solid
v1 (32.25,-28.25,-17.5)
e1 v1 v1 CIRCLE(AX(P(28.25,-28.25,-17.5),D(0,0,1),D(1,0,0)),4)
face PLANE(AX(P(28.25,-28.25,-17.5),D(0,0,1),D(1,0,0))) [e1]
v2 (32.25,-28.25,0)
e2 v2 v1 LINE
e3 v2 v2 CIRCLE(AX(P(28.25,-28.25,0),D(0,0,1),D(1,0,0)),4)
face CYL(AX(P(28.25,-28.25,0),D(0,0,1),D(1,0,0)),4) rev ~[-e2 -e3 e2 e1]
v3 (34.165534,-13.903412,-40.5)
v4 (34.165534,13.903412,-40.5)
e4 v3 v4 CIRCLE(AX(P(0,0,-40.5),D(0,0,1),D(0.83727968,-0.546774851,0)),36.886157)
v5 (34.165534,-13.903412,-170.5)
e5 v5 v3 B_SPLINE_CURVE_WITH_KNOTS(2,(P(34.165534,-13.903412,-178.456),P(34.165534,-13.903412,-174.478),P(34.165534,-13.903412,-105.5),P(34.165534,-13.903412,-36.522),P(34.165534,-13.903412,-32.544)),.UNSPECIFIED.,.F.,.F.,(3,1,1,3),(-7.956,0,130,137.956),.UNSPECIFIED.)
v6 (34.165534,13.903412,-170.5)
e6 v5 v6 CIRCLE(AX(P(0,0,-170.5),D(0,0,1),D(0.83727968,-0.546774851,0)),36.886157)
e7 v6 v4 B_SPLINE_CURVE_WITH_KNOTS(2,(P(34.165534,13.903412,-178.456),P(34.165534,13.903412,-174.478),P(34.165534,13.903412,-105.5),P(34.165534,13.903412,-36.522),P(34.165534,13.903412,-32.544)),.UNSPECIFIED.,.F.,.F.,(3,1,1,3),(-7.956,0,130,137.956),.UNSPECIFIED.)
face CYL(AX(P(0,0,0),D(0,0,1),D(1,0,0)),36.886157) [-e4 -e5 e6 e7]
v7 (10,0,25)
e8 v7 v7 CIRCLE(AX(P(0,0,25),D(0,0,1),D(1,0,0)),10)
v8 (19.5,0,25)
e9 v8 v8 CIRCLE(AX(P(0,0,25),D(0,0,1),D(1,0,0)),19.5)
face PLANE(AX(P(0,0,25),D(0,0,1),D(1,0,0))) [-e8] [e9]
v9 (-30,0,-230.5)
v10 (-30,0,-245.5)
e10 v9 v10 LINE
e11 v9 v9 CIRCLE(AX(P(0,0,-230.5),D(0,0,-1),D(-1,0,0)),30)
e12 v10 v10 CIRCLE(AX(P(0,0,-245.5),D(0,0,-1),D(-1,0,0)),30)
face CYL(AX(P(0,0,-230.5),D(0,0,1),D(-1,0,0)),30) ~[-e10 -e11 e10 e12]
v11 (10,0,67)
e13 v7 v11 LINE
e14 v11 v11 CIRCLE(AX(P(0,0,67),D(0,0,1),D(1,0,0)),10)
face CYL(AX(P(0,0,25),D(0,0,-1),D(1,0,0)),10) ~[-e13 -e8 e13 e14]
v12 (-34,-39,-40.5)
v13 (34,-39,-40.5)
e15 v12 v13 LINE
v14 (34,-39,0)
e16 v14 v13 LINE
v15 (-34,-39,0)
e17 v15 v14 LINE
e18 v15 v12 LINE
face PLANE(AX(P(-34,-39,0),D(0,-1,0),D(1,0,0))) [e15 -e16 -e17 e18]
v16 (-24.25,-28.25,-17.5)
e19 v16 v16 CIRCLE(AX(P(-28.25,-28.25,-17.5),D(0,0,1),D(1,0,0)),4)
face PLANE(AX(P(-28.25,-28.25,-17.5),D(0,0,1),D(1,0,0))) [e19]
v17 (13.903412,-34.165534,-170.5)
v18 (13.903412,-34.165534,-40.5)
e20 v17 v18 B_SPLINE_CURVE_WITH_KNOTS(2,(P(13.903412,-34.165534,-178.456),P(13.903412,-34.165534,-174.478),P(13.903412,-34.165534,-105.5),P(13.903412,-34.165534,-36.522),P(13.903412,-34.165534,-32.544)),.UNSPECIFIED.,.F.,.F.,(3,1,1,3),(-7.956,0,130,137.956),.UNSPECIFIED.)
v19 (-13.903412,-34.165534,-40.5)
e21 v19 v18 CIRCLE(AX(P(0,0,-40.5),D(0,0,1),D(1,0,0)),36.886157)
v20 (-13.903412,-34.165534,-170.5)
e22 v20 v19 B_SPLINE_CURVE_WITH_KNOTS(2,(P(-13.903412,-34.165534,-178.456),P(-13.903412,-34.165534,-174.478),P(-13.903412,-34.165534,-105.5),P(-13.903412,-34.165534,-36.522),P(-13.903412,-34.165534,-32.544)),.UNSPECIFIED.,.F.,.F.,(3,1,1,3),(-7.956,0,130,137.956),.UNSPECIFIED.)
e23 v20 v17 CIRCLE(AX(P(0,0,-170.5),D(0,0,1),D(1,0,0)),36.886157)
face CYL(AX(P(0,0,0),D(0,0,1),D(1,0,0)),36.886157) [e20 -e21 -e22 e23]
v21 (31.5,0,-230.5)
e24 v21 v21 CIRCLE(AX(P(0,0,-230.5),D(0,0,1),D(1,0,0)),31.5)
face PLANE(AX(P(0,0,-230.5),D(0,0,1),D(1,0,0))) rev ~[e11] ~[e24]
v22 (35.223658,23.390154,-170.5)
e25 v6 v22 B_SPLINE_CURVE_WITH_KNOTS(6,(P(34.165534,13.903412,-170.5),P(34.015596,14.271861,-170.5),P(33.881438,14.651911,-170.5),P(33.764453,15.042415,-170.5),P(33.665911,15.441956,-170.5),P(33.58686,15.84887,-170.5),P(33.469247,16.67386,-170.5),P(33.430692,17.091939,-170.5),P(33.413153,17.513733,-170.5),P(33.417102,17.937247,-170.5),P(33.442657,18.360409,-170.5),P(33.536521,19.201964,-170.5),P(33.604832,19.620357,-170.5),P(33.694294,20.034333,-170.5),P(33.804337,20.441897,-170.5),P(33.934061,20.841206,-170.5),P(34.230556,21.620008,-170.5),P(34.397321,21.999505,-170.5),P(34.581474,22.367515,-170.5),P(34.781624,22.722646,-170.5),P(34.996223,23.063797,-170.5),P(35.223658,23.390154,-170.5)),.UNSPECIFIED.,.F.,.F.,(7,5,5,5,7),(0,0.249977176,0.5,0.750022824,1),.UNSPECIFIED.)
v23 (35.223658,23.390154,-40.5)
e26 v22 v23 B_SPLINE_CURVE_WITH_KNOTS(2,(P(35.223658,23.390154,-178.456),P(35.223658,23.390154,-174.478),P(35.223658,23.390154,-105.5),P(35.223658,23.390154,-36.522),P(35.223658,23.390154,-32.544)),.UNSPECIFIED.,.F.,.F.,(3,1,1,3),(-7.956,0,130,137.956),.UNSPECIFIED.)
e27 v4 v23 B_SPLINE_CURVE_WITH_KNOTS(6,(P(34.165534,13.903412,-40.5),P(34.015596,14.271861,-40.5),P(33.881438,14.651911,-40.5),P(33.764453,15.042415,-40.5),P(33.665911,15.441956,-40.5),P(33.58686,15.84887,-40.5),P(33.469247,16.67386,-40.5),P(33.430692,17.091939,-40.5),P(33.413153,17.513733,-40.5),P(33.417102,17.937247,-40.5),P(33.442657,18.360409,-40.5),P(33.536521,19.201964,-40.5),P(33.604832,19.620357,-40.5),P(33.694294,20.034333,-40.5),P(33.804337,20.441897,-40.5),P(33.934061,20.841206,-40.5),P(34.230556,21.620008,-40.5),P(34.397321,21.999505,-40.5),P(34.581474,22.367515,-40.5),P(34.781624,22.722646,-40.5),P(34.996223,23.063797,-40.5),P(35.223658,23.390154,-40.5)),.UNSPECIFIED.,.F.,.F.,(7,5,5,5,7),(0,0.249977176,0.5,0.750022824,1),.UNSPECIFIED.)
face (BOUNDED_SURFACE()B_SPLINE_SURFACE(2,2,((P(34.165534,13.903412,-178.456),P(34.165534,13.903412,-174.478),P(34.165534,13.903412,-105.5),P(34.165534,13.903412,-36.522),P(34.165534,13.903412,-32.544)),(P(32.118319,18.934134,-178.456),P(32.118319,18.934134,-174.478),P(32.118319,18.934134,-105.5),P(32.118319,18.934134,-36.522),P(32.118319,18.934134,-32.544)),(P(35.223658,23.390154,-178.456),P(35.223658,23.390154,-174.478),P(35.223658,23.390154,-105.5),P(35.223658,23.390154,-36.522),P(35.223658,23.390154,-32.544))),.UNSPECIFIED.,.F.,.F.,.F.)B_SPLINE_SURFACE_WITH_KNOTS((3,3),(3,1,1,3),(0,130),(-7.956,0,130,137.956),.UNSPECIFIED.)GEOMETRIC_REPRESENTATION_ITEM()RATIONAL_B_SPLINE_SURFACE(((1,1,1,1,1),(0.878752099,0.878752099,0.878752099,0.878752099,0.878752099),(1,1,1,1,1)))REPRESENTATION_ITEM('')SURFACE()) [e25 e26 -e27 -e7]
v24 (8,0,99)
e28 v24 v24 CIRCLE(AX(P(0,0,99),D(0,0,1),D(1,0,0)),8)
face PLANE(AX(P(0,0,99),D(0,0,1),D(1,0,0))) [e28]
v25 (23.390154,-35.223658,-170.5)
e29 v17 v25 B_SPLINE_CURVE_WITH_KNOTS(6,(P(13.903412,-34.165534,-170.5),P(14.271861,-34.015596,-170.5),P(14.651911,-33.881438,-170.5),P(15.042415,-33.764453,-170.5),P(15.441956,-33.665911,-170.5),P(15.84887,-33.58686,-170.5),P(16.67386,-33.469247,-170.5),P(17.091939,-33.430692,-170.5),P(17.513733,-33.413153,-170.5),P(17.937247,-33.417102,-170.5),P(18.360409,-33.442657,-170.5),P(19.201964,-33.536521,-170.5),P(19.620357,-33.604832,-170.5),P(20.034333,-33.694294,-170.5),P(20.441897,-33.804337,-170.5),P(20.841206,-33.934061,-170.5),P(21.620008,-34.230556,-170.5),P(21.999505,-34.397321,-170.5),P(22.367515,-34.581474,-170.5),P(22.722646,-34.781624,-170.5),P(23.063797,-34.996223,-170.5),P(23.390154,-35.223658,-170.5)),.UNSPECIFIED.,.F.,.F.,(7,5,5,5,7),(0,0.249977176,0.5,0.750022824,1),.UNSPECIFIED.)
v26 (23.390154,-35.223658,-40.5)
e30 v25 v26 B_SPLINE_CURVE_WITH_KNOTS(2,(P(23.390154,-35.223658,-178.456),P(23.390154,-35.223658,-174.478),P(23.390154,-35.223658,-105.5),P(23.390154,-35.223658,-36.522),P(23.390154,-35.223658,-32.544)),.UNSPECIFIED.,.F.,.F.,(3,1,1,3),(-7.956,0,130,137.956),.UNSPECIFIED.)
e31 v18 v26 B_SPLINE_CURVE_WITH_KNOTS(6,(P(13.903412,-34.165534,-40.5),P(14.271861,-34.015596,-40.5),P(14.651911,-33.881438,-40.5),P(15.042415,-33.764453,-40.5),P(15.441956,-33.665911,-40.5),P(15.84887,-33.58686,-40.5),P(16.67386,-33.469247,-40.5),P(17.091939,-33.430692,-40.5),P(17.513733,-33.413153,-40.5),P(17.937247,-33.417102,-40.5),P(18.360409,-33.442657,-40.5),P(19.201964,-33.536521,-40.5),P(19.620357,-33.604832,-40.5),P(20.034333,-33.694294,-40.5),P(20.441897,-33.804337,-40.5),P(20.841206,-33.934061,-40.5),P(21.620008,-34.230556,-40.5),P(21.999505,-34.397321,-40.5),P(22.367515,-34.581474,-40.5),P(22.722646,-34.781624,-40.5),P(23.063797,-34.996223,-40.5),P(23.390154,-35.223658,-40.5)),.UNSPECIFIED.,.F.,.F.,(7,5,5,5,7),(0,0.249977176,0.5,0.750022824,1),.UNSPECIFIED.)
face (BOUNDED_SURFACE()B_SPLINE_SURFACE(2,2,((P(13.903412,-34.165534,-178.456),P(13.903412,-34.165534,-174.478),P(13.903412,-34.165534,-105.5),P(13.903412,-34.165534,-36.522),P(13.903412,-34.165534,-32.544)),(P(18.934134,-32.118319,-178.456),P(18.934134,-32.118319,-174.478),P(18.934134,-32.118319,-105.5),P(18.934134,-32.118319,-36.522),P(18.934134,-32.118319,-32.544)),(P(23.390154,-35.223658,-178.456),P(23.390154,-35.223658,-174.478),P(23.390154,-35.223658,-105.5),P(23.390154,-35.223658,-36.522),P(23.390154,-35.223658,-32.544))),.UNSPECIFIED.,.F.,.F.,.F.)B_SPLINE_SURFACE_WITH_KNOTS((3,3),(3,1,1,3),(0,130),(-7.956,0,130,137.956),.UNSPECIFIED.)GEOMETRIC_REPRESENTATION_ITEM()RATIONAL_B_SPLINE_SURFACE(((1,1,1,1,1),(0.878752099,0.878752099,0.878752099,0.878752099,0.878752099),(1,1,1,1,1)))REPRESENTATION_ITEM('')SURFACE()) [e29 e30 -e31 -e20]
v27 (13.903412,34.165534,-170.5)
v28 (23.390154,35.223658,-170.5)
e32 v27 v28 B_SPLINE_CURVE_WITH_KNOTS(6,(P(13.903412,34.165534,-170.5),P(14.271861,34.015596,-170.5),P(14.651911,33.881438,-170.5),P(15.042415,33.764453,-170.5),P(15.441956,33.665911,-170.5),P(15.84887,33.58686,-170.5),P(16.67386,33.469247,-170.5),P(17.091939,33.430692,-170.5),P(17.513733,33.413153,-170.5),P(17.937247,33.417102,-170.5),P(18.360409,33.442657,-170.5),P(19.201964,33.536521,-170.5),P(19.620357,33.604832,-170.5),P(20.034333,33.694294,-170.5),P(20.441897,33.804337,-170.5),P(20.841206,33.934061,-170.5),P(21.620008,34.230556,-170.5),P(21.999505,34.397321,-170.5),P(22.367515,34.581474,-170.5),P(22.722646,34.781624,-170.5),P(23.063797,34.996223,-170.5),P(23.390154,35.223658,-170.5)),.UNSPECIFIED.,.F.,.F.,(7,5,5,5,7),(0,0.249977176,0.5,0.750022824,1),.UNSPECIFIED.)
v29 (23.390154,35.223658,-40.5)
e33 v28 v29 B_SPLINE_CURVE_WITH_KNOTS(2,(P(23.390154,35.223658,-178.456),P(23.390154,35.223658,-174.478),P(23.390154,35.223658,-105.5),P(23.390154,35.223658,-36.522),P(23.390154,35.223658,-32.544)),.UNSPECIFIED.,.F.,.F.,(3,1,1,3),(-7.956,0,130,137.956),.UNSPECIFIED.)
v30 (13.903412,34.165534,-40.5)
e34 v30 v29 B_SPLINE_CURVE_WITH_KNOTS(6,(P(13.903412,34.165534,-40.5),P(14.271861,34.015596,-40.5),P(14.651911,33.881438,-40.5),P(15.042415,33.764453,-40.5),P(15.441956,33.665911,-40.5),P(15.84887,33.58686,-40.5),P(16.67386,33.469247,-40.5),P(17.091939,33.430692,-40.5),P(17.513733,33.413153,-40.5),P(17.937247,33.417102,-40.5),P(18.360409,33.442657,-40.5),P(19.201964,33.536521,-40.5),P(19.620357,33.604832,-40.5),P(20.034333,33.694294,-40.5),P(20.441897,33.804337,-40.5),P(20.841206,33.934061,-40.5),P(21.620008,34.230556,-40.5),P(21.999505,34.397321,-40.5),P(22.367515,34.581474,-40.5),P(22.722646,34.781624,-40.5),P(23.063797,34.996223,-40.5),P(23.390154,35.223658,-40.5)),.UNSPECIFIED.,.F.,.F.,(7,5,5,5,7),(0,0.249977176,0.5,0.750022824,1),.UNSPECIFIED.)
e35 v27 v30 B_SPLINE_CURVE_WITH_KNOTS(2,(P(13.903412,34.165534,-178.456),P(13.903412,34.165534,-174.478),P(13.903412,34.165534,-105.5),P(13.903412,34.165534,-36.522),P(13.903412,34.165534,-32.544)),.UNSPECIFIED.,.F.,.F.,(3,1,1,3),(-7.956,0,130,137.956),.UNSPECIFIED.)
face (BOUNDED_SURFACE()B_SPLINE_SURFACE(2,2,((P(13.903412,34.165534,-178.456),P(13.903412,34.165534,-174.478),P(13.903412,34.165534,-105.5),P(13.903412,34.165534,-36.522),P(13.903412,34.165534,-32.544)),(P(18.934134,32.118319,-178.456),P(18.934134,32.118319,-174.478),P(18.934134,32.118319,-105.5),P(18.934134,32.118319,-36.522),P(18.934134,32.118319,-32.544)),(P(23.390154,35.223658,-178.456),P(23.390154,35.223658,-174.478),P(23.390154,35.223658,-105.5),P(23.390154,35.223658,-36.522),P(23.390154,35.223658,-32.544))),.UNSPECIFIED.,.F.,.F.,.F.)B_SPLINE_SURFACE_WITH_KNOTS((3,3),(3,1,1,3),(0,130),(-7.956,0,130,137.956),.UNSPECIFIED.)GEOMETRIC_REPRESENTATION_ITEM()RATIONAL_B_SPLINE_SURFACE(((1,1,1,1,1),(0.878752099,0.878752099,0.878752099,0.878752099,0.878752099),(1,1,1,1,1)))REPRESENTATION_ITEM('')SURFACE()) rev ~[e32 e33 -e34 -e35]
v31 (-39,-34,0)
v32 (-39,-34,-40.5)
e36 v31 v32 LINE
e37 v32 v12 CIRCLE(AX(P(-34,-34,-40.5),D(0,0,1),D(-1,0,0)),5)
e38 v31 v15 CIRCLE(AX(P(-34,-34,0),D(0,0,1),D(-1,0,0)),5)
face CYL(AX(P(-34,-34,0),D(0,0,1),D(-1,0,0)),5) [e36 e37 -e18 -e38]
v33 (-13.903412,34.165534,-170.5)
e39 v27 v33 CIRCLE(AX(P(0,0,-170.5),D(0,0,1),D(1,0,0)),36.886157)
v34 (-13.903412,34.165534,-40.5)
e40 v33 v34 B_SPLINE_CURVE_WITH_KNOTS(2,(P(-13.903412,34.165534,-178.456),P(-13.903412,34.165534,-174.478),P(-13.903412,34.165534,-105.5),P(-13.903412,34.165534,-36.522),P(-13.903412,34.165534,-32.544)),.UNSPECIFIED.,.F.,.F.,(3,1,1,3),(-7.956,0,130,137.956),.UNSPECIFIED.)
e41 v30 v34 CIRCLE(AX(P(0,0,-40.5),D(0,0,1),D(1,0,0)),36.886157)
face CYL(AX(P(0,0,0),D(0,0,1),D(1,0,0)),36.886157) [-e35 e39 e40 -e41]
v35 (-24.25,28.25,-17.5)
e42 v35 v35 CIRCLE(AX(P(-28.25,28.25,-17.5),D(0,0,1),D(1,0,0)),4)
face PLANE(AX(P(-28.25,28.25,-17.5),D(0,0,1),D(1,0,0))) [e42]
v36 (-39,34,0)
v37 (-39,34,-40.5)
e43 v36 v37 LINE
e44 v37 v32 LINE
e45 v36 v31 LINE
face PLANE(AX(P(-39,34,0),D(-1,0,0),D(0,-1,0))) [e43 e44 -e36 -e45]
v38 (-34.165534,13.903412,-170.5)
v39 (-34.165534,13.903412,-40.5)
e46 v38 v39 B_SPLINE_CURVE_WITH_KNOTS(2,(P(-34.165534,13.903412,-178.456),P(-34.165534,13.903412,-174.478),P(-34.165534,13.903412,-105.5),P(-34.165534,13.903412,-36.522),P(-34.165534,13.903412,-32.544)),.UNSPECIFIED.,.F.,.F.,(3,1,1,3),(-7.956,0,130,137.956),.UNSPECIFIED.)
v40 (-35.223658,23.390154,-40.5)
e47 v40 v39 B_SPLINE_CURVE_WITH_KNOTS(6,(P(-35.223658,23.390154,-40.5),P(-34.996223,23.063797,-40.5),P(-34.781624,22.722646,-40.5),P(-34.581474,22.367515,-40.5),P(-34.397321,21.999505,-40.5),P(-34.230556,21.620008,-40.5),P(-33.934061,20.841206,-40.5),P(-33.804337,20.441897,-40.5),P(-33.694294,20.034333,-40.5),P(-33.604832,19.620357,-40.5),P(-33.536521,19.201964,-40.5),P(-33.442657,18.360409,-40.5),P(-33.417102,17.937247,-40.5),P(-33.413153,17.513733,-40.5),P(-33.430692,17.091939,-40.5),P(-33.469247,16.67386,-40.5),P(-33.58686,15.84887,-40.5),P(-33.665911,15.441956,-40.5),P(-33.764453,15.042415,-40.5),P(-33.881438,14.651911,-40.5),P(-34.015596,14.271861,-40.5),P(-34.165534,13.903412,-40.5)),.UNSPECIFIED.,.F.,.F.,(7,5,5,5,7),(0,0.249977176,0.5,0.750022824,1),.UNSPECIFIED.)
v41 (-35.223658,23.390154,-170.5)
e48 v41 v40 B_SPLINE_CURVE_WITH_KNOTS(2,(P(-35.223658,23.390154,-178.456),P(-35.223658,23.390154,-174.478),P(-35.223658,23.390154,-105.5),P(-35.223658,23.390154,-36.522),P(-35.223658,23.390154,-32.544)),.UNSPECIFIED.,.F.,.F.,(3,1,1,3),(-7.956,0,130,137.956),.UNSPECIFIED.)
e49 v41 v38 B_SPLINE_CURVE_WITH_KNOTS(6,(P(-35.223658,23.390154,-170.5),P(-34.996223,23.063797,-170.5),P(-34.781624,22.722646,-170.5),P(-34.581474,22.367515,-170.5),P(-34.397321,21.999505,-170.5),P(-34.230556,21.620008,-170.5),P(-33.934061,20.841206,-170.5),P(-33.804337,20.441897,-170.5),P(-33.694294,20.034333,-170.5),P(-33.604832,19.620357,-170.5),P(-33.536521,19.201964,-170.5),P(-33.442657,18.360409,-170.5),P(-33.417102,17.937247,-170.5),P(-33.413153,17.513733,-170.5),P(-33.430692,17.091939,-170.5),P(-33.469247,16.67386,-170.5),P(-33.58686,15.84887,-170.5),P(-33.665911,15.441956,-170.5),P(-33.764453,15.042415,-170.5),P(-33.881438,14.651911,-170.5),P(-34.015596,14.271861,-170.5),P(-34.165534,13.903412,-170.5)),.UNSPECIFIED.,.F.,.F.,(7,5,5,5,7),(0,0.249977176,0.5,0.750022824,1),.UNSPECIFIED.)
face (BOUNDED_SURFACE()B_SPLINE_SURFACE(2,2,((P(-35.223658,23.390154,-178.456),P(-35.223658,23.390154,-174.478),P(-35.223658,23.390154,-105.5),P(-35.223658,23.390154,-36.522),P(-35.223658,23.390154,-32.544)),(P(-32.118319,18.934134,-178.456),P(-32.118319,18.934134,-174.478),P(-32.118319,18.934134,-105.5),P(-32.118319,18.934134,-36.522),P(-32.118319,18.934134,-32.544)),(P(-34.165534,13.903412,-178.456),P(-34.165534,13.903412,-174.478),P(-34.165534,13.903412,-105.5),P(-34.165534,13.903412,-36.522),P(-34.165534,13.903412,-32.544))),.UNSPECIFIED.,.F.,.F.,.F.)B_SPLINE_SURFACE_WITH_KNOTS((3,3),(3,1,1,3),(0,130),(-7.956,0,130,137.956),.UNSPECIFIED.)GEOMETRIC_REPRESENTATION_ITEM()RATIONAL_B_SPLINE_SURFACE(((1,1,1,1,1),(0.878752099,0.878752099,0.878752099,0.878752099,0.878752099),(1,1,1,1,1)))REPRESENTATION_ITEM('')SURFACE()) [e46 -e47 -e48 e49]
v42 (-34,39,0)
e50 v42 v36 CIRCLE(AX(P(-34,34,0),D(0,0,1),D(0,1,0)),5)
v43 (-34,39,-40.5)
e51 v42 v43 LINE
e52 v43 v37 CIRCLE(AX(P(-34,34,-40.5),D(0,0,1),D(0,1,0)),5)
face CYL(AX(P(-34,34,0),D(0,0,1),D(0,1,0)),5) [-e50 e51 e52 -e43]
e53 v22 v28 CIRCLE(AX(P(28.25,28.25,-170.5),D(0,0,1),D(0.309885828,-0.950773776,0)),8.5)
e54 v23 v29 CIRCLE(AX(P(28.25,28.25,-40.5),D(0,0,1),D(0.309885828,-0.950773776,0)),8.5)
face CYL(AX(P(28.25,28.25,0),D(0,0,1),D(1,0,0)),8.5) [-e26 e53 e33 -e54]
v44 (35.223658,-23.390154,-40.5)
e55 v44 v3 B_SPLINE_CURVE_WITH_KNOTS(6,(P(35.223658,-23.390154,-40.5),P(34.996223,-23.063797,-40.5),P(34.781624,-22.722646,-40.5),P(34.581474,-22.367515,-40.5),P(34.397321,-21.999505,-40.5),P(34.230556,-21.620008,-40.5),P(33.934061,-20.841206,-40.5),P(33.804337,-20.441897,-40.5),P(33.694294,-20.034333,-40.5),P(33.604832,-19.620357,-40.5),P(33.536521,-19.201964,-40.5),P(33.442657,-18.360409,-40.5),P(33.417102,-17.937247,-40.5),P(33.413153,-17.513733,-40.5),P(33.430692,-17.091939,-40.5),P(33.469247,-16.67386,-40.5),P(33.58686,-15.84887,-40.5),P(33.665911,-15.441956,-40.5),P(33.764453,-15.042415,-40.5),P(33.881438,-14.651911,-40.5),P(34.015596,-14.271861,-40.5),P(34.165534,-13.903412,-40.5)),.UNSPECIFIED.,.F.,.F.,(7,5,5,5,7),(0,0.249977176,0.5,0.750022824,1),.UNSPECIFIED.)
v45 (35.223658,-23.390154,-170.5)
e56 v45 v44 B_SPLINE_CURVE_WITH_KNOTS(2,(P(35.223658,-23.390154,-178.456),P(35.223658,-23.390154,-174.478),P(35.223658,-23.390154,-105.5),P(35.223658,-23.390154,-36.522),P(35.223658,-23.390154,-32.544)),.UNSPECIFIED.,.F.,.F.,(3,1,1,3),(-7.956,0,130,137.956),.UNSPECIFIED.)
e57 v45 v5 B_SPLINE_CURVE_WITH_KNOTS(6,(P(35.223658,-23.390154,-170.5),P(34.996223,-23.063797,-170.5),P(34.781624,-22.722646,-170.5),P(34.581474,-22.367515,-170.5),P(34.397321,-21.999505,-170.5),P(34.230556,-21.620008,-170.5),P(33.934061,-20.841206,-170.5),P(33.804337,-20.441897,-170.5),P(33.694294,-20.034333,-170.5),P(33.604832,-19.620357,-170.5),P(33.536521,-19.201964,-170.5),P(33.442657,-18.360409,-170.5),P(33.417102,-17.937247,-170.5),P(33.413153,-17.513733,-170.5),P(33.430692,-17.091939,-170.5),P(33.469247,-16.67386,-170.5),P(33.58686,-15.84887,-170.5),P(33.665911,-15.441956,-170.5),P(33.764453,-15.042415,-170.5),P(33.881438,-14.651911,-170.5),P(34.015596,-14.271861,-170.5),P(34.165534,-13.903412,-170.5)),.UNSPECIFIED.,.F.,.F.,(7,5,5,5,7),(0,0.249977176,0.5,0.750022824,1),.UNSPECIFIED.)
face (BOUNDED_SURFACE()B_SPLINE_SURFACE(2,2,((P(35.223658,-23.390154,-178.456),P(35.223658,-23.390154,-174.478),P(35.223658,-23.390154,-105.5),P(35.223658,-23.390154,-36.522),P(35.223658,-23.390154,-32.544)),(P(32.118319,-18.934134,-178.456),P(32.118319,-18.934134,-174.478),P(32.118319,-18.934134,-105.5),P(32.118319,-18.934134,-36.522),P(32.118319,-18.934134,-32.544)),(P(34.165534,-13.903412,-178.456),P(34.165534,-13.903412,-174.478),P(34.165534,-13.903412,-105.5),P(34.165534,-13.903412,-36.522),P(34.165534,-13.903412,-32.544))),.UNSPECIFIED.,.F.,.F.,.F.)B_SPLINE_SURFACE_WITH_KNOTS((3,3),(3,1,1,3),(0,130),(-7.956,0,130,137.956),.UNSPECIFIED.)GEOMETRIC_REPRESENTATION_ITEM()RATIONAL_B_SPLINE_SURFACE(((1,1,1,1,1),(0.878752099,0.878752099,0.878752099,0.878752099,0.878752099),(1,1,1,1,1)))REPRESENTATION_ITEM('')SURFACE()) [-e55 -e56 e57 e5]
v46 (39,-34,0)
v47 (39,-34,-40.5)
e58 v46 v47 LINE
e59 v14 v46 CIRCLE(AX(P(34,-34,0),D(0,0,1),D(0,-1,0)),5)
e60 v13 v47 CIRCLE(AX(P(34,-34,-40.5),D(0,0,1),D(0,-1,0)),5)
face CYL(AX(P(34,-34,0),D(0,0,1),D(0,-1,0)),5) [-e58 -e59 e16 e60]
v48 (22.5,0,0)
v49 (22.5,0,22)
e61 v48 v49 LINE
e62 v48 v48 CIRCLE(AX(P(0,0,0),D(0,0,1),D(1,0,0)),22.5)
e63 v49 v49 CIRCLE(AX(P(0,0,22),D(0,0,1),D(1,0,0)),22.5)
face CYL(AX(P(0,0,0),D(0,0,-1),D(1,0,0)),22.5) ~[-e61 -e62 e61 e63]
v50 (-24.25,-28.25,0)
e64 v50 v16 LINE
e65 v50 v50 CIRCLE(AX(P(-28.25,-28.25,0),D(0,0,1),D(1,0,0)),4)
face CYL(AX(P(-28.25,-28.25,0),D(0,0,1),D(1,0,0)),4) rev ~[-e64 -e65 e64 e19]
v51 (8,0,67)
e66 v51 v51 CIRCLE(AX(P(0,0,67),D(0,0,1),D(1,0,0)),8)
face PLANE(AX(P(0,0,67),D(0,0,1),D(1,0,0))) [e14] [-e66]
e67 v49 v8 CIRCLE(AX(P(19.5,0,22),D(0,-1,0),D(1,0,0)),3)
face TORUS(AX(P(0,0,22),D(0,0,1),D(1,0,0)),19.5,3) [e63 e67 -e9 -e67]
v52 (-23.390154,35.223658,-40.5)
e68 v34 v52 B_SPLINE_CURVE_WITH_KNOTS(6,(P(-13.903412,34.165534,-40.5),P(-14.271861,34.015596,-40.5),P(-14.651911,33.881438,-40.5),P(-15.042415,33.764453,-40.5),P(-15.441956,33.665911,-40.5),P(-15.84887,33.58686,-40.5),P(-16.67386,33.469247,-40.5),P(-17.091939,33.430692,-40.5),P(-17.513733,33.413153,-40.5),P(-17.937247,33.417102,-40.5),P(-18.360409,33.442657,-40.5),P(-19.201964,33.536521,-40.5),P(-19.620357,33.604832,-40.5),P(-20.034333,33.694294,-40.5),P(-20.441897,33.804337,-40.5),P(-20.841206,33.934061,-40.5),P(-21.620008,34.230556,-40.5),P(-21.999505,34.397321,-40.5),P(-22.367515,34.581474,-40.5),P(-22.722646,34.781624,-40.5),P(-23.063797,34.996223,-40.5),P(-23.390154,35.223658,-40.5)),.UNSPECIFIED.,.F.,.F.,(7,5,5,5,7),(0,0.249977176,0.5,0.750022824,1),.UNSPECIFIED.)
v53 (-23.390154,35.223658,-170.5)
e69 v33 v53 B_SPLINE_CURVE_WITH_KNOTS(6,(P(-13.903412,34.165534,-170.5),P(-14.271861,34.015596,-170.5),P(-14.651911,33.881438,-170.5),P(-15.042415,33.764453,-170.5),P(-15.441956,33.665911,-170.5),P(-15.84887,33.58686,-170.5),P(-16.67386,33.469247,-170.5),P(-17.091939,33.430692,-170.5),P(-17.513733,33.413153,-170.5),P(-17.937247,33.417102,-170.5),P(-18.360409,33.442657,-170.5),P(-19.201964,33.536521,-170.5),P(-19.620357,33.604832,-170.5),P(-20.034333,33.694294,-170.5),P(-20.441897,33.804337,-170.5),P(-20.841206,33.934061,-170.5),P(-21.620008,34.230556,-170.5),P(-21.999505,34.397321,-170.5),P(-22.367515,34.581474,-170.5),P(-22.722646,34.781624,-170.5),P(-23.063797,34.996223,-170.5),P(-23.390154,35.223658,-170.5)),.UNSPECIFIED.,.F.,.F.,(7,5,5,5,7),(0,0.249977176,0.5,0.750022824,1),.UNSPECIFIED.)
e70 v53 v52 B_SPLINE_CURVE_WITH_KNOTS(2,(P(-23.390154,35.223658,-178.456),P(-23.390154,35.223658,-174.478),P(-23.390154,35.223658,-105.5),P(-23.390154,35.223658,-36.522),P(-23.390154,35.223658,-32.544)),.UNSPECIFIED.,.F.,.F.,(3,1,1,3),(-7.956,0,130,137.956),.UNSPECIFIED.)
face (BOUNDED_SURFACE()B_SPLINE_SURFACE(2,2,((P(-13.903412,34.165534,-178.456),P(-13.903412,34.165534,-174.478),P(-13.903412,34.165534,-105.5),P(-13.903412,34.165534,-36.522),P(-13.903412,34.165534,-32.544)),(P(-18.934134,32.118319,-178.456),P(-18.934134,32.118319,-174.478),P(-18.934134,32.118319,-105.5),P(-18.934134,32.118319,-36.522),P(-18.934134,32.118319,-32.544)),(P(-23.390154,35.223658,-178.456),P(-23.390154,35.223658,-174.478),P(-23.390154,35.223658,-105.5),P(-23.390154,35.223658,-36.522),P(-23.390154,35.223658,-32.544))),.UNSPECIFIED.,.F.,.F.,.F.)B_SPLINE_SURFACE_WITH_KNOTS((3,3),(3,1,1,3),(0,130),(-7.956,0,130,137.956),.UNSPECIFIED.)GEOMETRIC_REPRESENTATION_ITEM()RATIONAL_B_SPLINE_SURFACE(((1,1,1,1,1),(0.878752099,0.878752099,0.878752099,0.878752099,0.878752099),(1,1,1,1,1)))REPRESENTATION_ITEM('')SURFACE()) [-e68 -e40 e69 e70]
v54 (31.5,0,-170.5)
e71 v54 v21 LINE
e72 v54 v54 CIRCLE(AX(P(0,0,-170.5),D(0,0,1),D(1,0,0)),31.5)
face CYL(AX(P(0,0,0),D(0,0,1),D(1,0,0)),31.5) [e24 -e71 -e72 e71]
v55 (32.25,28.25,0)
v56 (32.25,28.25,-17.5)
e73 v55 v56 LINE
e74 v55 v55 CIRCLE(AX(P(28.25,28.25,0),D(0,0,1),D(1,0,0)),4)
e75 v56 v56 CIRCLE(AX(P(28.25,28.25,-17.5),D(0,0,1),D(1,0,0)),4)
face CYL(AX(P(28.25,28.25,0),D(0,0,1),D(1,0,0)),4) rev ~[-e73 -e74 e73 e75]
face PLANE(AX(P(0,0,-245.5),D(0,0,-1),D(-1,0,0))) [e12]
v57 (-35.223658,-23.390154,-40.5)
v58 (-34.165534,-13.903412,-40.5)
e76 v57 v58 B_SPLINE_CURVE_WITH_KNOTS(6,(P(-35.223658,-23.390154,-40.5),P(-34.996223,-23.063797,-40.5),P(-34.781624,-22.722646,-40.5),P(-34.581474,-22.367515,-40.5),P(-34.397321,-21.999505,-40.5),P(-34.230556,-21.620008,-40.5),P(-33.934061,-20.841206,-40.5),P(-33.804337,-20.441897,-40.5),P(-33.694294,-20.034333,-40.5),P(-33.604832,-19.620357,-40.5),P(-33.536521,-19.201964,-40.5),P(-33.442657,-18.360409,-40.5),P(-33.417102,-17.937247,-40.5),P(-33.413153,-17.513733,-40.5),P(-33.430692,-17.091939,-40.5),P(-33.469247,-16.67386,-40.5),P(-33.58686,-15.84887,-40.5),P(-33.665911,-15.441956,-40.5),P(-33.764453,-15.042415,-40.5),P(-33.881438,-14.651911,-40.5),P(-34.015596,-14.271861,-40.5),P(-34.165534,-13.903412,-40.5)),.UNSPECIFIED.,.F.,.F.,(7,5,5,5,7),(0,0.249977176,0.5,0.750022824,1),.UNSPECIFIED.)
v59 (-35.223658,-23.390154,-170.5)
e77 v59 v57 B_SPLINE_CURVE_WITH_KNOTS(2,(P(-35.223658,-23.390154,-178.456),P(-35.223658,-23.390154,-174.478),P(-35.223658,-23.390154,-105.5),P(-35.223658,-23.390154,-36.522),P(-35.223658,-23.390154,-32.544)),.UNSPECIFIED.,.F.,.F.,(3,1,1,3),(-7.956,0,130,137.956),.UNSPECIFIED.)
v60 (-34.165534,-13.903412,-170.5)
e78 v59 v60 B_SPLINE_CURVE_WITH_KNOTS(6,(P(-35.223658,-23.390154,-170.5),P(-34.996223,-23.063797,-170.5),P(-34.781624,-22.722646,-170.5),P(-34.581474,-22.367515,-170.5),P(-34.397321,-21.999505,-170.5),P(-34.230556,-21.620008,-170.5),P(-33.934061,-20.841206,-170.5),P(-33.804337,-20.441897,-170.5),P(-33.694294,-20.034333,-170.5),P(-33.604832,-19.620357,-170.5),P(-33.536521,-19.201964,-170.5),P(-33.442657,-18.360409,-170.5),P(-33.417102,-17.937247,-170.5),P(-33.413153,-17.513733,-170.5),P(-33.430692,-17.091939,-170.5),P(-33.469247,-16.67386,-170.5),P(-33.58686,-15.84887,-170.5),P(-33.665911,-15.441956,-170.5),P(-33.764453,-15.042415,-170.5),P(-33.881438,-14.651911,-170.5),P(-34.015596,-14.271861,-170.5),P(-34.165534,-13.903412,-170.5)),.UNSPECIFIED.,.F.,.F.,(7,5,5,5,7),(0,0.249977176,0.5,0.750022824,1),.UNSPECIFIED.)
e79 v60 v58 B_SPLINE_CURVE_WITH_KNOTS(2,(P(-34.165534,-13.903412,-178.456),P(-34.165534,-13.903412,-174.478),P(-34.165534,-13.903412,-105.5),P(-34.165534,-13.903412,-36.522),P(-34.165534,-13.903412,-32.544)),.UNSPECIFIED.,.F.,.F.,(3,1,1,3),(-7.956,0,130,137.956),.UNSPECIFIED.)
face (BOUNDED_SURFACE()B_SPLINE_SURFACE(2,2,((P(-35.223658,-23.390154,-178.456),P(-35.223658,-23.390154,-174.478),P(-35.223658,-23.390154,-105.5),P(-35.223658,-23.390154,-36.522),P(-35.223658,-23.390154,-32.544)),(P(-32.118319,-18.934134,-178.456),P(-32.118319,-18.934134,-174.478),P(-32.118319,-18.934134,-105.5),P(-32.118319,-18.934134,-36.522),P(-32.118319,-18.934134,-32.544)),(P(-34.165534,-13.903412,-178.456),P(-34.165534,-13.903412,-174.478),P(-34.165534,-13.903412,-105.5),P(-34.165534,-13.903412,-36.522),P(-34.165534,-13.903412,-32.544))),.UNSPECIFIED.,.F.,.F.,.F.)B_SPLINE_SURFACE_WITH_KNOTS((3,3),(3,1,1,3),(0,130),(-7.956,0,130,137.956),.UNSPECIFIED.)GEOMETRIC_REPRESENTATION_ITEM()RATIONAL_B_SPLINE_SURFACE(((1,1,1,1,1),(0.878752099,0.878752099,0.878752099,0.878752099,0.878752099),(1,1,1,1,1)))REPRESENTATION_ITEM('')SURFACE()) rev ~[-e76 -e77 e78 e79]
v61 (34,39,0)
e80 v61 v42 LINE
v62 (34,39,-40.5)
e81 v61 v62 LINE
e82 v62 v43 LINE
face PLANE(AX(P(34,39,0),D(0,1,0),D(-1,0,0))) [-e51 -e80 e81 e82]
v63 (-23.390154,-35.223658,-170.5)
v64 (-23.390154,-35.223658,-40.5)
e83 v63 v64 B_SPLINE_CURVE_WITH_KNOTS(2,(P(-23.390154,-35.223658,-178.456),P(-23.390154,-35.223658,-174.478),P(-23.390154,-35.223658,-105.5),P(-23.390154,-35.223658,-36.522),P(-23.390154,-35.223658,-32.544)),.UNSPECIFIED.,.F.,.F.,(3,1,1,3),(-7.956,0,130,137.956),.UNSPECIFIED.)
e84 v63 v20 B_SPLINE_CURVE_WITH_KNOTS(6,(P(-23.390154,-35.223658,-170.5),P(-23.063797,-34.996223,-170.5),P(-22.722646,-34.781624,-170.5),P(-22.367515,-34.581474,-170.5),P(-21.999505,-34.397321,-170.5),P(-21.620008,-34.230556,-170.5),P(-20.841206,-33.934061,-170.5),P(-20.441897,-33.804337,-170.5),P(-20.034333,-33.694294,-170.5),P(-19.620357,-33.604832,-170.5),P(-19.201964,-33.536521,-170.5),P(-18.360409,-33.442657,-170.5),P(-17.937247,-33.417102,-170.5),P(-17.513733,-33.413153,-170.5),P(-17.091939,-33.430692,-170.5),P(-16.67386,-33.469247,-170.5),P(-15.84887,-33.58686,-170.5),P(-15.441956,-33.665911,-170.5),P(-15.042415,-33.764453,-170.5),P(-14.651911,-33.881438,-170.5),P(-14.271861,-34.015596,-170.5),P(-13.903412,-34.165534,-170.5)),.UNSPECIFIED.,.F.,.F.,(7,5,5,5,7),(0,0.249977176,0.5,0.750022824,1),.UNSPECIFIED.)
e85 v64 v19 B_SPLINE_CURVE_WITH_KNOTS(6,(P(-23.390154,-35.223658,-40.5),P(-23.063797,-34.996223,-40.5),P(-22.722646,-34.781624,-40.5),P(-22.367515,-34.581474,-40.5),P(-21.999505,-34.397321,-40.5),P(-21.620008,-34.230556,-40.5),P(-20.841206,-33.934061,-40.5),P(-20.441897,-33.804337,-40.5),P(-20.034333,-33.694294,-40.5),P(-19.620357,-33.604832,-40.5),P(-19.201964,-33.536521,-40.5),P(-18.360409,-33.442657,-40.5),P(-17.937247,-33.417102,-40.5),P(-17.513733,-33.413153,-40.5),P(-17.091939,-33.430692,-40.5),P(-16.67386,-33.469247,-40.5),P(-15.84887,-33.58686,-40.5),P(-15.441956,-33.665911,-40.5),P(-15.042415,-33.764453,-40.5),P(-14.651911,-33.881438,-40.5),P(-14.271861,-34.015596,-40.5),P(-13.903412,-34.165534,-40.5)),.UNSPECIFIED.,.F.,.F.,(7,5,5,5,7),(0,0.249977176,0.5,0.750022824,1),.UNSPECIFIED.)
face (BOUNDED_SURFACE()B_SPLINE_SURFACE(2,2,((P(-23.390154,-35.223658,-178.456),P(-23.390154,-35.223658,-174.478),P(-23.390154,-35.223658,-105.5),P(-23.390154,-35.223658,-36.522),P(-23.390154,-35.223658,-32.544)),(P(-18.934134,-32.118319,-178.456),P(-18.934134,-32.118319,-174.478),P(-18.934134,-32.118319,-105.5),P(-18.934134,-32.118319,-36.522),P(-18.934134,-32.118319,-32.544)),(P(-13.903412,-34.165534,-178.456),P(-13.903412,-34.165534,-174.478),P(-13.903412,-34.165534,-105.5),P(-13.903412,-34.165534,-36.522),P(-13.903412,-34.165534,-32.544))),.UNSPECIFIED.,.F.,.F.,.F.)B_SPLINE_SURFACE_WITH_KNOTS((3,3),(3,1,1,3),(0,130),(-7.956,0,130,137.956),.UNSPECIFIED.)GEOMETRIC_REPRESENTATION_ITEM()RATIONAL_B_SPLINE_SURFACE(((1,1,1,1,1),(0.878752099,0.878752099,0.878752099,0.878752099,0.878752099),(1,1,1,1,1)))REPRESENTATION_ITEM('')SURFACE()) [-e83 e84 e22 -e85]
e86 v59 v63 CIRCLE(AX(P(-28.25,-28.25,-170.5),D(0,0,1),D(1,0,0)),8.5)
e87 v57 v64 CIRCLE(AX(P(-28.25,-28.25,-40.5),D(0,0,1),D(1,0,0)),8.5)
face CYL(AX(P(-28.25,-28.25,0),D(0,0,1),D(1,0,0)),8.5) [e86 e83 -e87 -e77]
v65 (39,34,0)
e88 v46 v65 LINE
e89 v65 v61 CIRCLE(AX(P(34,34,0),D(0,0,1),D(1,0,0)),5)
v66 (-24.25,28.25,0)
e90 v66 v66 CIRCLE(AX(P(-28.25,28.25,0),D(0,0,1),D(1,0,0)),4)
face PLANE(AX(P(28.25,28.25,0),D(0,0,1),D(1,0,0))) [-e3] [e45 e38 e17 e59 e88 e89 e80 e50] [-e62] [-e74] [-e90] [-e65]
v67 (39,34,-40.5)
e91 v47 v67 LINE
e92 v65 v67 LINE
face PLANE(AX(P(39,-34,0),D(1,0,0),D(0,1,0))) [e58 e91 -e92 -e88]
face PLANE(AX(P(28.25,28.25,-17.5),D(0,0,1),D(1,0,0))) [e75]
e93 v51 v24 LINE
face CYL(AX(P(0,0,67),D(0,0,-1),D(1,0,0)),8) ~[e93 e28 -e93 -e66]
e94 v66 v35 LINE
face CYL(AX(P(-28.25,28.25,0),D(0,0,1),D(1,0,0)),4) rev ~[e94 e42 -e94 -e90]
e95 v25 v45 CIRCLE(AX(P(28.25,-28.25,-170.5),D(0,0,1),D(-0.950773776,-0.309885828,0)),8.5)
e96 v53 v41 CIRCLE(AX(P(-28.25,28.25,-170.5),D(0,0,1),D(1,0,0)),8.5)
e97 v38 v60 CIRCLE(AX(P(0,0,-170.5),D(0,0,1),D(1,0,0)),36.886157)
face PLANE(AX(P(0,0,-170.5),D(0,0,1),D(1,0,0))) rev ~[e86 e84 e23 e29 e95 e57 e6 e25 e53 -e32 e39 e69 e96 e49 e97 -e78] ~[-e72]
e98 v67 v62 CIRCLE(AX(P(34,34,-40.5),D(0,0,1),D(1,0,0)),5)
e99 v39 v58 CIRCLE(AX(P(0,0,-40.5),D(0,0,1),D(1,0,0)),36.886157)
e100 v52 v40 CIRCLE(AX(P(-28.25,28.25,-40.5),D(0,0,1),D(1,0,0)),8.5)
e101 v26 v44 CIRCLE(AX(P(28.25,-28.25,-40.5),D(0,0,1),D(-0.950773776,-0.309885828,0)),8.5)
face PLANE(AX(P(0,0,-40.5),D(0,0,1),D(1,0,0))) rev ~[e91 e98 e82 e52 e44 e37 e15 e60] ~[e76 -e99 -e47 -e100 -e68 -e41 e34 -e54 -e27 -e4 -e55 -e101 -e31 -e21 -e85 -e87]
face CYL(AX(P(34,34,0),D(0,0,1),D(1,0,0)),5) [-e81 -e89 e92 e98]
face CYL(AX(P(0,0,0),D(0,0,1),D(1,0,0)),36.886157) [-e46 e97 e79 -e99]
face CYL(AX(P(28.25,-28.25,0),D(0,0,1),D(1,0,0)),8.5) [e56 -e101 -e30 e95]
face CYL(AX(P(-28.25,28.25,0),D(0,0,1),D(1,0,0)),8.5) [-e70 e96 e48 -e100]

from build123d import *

# Parameters (mm, degrees)
SALIENTE_EXTRUIR1_DEPTH = 40.5
CROQUIS2_R              = 36.886156795
SALIENTE_EXTRUIR2_DEPTH = 170.5
CROQUIS3_R              = 31.5
SALIENTE_EXTRUIR3_DEPTH = 230.5
CROQUIS4_R              = 30
SALIENTE_EXTRUIR4_DEPTH = 15
CROQUIS5_R              = 8.5
SALIENTE_EXTRUIR5_DEPTH = 170.5
REDONDEO2_R             = 10
REDONDEO3_R             = 10
REDONDEO4_R             = 10
REDONDEO5_R             = 10
CROQUIS6_R              = 4
CORTAR_EXTRUIR1_DEPTH   = 17.5
CROQUIS7_R              = 22.5
SALIENTE_EXTRUIR7_DEPTH = 25
REDONDEO6_R             = 3
CROQUIS8_R              = 10
SALIENTE_EXTRUIR8_DEPTH = 42
CROQUIS9_R              = 8
SALIENTE_EXTRUIR9_DEPTH = 32


with BuildPart() as part:
    # Croquis1 → Saliente-Extruir1 (new body)
    with BuildSketch(Plane.XY):
        with BuildLine():
            Line((-34, -39), (34, -39))
            ThreePointArc((34, -39), (37.535533906, -37.535533906), (39, -34))
            Line((39, -34), (39, 34))
            ThreePointArc((39, 34), (37.535533906, 37.535533906), (34, 39))
            Line((34, 39), (-34, 39))
            ThreePointArc((-34, 39), (-37.535533906, 37.535533906), (-39, 34))
            Line((-39, 34), (-39, -34))
            ThreePointArc((-39, -34), (-37.535533906, -37.535533906), (-34, -39))
        make_face()
    extrude(amount=-SALIENTE_EXTRUIR1_DEPTH)

    # Croquis2 → Saliente-Extruir2 (add)
    with BuildSketch(Plane.XY):
        Circle(CROQUIS2_R)
    extrude(amount=-SALIENTE_EXTRUIR2_DEPTH)

    # Croquis3 → Saliente-Extruir3 (add)
    with BuildSketch(Plane.XY):
        Circle(CROQUIS3_R)
    extrude(amount=-SALIENTE_EXTRUIR3_DEPTH)

    # Croquis4 → Saliente-Extruir4 (add)
    with BuildSketch(Plane(origin=(0, 0, -230.5), x_dir=(-1, 0, 0), z_dir=(0, 0, -1))):
        Circle(CROQUIS4_R)
    extrude(amount=SALIENTE_EXTRUIR4_DEPTH)

    # Croquis5 → Saliente-Extruir5 (add)
    with BuildSketch(Plane.XY):
        with Locations((28.25, 28.25)):
            Circle(CROQUIS5_R)
        with Locations((28.25, -28.25)):
            Circle(CROQUIS5_R)
        with Locations((-28.25, -28.25)):
            Circle(CROQUIS5_R)
        with Locations((-28.25, 28.25)):
            Circle(CROQUIS5_R)
    extrude(amount=-SALIENTE_EXTRUIR5_DEPTH)

    # Redondeo2
    redondeo2_edges = [part.edges().sort_by_distance(p)[0] for p in [
        (20.168422903, 30.884029541, -105.5),
        (-20.168422903, 30.884029541, -105.5),
    ]]
    fillet(redondeo2_edges, radius=REDONDEO2_R)

    # Redondeo3
    redondeo3_edges = [part.edges().sort_by_distance(p)[0] for p in [
        (-30.884029541, -20.168422903, -105.5),
        (-30.884029541, 20.168422903, -105.5),
    ]]
    fillet(redondeo3_edges, radius=REDONDEO3_R)

    # Redondeo4
    redondeo4_edges = [part.edges().sort_by_distance(p)[0] for p in [
        (20.168422903, -30.884029541, -105.5),
        (-20.168422903, -30.884029541, -105.5),
    ]]
    fillet(redondeo4_edges, radius=REDONDEO4_R)

    # Redondeo5
    redondeo5_edges = [part.edges().sort_by_distance(p)[0] for p in [
        (30.884029541, 20.168422903, -105.5),
        (30.884029541, -20.168422903, -105.5),
    ]]
    fillet(redondeo5_edges, radius=REDONDEO5_R)

    # Croquis6 → Cortar-Extruir1 (cut)
    with BuildSketch(Plane.XY):
        with Locations((28.25, 28.25)):
            Circle(CROQUIS6_R)
        with Locations((-28.25, 28.25)):
            Circle(CROQUIS6_R)
        with Locations((28.25, -28.25)):
            Circle(CROQUIS6_R)
        with Locations((-28.25, -28.25)):
            Circle(CROQUIS6_R)
    extrude(amount=-CORTAR_EXTRUIR1_DEPTH, mode=Mode.SUBTRACT)

    # Croquis7 → Saliente-Extruir7 (add)
    with BuildSketch(Plane.XY):
        Circle(CROQUIS7_R)
    extrude(amount=SALIENTE_EXTRUIR7_DEPTH)

    # Redondeo6
    redondeo6_edges = [part.edges().sort_by_distance(p)[0] for p in [
        (-22.5, 0, 25),
    ]]
    fillet(redondeo6_edges, radius=REDONDEO6_R)

    # Croquis8 → Saliente-Extruir8 (add)
    with BuildSketch(Plane.XY.offset(25)):
        Circle(CROQUIS8_R)
    extrude(amount=SALIENTE_EXTRUIR8_DEPTH)

    # Croquis9 → Saliente-Extruir9 (add)
    with BuildSketch(Plane.XY.offset(67)):
        Circle(CROQUIS9_R)
    extrude(amount=SALIENTE_EXTRUIR9_DEPTH)


solid = part.part
